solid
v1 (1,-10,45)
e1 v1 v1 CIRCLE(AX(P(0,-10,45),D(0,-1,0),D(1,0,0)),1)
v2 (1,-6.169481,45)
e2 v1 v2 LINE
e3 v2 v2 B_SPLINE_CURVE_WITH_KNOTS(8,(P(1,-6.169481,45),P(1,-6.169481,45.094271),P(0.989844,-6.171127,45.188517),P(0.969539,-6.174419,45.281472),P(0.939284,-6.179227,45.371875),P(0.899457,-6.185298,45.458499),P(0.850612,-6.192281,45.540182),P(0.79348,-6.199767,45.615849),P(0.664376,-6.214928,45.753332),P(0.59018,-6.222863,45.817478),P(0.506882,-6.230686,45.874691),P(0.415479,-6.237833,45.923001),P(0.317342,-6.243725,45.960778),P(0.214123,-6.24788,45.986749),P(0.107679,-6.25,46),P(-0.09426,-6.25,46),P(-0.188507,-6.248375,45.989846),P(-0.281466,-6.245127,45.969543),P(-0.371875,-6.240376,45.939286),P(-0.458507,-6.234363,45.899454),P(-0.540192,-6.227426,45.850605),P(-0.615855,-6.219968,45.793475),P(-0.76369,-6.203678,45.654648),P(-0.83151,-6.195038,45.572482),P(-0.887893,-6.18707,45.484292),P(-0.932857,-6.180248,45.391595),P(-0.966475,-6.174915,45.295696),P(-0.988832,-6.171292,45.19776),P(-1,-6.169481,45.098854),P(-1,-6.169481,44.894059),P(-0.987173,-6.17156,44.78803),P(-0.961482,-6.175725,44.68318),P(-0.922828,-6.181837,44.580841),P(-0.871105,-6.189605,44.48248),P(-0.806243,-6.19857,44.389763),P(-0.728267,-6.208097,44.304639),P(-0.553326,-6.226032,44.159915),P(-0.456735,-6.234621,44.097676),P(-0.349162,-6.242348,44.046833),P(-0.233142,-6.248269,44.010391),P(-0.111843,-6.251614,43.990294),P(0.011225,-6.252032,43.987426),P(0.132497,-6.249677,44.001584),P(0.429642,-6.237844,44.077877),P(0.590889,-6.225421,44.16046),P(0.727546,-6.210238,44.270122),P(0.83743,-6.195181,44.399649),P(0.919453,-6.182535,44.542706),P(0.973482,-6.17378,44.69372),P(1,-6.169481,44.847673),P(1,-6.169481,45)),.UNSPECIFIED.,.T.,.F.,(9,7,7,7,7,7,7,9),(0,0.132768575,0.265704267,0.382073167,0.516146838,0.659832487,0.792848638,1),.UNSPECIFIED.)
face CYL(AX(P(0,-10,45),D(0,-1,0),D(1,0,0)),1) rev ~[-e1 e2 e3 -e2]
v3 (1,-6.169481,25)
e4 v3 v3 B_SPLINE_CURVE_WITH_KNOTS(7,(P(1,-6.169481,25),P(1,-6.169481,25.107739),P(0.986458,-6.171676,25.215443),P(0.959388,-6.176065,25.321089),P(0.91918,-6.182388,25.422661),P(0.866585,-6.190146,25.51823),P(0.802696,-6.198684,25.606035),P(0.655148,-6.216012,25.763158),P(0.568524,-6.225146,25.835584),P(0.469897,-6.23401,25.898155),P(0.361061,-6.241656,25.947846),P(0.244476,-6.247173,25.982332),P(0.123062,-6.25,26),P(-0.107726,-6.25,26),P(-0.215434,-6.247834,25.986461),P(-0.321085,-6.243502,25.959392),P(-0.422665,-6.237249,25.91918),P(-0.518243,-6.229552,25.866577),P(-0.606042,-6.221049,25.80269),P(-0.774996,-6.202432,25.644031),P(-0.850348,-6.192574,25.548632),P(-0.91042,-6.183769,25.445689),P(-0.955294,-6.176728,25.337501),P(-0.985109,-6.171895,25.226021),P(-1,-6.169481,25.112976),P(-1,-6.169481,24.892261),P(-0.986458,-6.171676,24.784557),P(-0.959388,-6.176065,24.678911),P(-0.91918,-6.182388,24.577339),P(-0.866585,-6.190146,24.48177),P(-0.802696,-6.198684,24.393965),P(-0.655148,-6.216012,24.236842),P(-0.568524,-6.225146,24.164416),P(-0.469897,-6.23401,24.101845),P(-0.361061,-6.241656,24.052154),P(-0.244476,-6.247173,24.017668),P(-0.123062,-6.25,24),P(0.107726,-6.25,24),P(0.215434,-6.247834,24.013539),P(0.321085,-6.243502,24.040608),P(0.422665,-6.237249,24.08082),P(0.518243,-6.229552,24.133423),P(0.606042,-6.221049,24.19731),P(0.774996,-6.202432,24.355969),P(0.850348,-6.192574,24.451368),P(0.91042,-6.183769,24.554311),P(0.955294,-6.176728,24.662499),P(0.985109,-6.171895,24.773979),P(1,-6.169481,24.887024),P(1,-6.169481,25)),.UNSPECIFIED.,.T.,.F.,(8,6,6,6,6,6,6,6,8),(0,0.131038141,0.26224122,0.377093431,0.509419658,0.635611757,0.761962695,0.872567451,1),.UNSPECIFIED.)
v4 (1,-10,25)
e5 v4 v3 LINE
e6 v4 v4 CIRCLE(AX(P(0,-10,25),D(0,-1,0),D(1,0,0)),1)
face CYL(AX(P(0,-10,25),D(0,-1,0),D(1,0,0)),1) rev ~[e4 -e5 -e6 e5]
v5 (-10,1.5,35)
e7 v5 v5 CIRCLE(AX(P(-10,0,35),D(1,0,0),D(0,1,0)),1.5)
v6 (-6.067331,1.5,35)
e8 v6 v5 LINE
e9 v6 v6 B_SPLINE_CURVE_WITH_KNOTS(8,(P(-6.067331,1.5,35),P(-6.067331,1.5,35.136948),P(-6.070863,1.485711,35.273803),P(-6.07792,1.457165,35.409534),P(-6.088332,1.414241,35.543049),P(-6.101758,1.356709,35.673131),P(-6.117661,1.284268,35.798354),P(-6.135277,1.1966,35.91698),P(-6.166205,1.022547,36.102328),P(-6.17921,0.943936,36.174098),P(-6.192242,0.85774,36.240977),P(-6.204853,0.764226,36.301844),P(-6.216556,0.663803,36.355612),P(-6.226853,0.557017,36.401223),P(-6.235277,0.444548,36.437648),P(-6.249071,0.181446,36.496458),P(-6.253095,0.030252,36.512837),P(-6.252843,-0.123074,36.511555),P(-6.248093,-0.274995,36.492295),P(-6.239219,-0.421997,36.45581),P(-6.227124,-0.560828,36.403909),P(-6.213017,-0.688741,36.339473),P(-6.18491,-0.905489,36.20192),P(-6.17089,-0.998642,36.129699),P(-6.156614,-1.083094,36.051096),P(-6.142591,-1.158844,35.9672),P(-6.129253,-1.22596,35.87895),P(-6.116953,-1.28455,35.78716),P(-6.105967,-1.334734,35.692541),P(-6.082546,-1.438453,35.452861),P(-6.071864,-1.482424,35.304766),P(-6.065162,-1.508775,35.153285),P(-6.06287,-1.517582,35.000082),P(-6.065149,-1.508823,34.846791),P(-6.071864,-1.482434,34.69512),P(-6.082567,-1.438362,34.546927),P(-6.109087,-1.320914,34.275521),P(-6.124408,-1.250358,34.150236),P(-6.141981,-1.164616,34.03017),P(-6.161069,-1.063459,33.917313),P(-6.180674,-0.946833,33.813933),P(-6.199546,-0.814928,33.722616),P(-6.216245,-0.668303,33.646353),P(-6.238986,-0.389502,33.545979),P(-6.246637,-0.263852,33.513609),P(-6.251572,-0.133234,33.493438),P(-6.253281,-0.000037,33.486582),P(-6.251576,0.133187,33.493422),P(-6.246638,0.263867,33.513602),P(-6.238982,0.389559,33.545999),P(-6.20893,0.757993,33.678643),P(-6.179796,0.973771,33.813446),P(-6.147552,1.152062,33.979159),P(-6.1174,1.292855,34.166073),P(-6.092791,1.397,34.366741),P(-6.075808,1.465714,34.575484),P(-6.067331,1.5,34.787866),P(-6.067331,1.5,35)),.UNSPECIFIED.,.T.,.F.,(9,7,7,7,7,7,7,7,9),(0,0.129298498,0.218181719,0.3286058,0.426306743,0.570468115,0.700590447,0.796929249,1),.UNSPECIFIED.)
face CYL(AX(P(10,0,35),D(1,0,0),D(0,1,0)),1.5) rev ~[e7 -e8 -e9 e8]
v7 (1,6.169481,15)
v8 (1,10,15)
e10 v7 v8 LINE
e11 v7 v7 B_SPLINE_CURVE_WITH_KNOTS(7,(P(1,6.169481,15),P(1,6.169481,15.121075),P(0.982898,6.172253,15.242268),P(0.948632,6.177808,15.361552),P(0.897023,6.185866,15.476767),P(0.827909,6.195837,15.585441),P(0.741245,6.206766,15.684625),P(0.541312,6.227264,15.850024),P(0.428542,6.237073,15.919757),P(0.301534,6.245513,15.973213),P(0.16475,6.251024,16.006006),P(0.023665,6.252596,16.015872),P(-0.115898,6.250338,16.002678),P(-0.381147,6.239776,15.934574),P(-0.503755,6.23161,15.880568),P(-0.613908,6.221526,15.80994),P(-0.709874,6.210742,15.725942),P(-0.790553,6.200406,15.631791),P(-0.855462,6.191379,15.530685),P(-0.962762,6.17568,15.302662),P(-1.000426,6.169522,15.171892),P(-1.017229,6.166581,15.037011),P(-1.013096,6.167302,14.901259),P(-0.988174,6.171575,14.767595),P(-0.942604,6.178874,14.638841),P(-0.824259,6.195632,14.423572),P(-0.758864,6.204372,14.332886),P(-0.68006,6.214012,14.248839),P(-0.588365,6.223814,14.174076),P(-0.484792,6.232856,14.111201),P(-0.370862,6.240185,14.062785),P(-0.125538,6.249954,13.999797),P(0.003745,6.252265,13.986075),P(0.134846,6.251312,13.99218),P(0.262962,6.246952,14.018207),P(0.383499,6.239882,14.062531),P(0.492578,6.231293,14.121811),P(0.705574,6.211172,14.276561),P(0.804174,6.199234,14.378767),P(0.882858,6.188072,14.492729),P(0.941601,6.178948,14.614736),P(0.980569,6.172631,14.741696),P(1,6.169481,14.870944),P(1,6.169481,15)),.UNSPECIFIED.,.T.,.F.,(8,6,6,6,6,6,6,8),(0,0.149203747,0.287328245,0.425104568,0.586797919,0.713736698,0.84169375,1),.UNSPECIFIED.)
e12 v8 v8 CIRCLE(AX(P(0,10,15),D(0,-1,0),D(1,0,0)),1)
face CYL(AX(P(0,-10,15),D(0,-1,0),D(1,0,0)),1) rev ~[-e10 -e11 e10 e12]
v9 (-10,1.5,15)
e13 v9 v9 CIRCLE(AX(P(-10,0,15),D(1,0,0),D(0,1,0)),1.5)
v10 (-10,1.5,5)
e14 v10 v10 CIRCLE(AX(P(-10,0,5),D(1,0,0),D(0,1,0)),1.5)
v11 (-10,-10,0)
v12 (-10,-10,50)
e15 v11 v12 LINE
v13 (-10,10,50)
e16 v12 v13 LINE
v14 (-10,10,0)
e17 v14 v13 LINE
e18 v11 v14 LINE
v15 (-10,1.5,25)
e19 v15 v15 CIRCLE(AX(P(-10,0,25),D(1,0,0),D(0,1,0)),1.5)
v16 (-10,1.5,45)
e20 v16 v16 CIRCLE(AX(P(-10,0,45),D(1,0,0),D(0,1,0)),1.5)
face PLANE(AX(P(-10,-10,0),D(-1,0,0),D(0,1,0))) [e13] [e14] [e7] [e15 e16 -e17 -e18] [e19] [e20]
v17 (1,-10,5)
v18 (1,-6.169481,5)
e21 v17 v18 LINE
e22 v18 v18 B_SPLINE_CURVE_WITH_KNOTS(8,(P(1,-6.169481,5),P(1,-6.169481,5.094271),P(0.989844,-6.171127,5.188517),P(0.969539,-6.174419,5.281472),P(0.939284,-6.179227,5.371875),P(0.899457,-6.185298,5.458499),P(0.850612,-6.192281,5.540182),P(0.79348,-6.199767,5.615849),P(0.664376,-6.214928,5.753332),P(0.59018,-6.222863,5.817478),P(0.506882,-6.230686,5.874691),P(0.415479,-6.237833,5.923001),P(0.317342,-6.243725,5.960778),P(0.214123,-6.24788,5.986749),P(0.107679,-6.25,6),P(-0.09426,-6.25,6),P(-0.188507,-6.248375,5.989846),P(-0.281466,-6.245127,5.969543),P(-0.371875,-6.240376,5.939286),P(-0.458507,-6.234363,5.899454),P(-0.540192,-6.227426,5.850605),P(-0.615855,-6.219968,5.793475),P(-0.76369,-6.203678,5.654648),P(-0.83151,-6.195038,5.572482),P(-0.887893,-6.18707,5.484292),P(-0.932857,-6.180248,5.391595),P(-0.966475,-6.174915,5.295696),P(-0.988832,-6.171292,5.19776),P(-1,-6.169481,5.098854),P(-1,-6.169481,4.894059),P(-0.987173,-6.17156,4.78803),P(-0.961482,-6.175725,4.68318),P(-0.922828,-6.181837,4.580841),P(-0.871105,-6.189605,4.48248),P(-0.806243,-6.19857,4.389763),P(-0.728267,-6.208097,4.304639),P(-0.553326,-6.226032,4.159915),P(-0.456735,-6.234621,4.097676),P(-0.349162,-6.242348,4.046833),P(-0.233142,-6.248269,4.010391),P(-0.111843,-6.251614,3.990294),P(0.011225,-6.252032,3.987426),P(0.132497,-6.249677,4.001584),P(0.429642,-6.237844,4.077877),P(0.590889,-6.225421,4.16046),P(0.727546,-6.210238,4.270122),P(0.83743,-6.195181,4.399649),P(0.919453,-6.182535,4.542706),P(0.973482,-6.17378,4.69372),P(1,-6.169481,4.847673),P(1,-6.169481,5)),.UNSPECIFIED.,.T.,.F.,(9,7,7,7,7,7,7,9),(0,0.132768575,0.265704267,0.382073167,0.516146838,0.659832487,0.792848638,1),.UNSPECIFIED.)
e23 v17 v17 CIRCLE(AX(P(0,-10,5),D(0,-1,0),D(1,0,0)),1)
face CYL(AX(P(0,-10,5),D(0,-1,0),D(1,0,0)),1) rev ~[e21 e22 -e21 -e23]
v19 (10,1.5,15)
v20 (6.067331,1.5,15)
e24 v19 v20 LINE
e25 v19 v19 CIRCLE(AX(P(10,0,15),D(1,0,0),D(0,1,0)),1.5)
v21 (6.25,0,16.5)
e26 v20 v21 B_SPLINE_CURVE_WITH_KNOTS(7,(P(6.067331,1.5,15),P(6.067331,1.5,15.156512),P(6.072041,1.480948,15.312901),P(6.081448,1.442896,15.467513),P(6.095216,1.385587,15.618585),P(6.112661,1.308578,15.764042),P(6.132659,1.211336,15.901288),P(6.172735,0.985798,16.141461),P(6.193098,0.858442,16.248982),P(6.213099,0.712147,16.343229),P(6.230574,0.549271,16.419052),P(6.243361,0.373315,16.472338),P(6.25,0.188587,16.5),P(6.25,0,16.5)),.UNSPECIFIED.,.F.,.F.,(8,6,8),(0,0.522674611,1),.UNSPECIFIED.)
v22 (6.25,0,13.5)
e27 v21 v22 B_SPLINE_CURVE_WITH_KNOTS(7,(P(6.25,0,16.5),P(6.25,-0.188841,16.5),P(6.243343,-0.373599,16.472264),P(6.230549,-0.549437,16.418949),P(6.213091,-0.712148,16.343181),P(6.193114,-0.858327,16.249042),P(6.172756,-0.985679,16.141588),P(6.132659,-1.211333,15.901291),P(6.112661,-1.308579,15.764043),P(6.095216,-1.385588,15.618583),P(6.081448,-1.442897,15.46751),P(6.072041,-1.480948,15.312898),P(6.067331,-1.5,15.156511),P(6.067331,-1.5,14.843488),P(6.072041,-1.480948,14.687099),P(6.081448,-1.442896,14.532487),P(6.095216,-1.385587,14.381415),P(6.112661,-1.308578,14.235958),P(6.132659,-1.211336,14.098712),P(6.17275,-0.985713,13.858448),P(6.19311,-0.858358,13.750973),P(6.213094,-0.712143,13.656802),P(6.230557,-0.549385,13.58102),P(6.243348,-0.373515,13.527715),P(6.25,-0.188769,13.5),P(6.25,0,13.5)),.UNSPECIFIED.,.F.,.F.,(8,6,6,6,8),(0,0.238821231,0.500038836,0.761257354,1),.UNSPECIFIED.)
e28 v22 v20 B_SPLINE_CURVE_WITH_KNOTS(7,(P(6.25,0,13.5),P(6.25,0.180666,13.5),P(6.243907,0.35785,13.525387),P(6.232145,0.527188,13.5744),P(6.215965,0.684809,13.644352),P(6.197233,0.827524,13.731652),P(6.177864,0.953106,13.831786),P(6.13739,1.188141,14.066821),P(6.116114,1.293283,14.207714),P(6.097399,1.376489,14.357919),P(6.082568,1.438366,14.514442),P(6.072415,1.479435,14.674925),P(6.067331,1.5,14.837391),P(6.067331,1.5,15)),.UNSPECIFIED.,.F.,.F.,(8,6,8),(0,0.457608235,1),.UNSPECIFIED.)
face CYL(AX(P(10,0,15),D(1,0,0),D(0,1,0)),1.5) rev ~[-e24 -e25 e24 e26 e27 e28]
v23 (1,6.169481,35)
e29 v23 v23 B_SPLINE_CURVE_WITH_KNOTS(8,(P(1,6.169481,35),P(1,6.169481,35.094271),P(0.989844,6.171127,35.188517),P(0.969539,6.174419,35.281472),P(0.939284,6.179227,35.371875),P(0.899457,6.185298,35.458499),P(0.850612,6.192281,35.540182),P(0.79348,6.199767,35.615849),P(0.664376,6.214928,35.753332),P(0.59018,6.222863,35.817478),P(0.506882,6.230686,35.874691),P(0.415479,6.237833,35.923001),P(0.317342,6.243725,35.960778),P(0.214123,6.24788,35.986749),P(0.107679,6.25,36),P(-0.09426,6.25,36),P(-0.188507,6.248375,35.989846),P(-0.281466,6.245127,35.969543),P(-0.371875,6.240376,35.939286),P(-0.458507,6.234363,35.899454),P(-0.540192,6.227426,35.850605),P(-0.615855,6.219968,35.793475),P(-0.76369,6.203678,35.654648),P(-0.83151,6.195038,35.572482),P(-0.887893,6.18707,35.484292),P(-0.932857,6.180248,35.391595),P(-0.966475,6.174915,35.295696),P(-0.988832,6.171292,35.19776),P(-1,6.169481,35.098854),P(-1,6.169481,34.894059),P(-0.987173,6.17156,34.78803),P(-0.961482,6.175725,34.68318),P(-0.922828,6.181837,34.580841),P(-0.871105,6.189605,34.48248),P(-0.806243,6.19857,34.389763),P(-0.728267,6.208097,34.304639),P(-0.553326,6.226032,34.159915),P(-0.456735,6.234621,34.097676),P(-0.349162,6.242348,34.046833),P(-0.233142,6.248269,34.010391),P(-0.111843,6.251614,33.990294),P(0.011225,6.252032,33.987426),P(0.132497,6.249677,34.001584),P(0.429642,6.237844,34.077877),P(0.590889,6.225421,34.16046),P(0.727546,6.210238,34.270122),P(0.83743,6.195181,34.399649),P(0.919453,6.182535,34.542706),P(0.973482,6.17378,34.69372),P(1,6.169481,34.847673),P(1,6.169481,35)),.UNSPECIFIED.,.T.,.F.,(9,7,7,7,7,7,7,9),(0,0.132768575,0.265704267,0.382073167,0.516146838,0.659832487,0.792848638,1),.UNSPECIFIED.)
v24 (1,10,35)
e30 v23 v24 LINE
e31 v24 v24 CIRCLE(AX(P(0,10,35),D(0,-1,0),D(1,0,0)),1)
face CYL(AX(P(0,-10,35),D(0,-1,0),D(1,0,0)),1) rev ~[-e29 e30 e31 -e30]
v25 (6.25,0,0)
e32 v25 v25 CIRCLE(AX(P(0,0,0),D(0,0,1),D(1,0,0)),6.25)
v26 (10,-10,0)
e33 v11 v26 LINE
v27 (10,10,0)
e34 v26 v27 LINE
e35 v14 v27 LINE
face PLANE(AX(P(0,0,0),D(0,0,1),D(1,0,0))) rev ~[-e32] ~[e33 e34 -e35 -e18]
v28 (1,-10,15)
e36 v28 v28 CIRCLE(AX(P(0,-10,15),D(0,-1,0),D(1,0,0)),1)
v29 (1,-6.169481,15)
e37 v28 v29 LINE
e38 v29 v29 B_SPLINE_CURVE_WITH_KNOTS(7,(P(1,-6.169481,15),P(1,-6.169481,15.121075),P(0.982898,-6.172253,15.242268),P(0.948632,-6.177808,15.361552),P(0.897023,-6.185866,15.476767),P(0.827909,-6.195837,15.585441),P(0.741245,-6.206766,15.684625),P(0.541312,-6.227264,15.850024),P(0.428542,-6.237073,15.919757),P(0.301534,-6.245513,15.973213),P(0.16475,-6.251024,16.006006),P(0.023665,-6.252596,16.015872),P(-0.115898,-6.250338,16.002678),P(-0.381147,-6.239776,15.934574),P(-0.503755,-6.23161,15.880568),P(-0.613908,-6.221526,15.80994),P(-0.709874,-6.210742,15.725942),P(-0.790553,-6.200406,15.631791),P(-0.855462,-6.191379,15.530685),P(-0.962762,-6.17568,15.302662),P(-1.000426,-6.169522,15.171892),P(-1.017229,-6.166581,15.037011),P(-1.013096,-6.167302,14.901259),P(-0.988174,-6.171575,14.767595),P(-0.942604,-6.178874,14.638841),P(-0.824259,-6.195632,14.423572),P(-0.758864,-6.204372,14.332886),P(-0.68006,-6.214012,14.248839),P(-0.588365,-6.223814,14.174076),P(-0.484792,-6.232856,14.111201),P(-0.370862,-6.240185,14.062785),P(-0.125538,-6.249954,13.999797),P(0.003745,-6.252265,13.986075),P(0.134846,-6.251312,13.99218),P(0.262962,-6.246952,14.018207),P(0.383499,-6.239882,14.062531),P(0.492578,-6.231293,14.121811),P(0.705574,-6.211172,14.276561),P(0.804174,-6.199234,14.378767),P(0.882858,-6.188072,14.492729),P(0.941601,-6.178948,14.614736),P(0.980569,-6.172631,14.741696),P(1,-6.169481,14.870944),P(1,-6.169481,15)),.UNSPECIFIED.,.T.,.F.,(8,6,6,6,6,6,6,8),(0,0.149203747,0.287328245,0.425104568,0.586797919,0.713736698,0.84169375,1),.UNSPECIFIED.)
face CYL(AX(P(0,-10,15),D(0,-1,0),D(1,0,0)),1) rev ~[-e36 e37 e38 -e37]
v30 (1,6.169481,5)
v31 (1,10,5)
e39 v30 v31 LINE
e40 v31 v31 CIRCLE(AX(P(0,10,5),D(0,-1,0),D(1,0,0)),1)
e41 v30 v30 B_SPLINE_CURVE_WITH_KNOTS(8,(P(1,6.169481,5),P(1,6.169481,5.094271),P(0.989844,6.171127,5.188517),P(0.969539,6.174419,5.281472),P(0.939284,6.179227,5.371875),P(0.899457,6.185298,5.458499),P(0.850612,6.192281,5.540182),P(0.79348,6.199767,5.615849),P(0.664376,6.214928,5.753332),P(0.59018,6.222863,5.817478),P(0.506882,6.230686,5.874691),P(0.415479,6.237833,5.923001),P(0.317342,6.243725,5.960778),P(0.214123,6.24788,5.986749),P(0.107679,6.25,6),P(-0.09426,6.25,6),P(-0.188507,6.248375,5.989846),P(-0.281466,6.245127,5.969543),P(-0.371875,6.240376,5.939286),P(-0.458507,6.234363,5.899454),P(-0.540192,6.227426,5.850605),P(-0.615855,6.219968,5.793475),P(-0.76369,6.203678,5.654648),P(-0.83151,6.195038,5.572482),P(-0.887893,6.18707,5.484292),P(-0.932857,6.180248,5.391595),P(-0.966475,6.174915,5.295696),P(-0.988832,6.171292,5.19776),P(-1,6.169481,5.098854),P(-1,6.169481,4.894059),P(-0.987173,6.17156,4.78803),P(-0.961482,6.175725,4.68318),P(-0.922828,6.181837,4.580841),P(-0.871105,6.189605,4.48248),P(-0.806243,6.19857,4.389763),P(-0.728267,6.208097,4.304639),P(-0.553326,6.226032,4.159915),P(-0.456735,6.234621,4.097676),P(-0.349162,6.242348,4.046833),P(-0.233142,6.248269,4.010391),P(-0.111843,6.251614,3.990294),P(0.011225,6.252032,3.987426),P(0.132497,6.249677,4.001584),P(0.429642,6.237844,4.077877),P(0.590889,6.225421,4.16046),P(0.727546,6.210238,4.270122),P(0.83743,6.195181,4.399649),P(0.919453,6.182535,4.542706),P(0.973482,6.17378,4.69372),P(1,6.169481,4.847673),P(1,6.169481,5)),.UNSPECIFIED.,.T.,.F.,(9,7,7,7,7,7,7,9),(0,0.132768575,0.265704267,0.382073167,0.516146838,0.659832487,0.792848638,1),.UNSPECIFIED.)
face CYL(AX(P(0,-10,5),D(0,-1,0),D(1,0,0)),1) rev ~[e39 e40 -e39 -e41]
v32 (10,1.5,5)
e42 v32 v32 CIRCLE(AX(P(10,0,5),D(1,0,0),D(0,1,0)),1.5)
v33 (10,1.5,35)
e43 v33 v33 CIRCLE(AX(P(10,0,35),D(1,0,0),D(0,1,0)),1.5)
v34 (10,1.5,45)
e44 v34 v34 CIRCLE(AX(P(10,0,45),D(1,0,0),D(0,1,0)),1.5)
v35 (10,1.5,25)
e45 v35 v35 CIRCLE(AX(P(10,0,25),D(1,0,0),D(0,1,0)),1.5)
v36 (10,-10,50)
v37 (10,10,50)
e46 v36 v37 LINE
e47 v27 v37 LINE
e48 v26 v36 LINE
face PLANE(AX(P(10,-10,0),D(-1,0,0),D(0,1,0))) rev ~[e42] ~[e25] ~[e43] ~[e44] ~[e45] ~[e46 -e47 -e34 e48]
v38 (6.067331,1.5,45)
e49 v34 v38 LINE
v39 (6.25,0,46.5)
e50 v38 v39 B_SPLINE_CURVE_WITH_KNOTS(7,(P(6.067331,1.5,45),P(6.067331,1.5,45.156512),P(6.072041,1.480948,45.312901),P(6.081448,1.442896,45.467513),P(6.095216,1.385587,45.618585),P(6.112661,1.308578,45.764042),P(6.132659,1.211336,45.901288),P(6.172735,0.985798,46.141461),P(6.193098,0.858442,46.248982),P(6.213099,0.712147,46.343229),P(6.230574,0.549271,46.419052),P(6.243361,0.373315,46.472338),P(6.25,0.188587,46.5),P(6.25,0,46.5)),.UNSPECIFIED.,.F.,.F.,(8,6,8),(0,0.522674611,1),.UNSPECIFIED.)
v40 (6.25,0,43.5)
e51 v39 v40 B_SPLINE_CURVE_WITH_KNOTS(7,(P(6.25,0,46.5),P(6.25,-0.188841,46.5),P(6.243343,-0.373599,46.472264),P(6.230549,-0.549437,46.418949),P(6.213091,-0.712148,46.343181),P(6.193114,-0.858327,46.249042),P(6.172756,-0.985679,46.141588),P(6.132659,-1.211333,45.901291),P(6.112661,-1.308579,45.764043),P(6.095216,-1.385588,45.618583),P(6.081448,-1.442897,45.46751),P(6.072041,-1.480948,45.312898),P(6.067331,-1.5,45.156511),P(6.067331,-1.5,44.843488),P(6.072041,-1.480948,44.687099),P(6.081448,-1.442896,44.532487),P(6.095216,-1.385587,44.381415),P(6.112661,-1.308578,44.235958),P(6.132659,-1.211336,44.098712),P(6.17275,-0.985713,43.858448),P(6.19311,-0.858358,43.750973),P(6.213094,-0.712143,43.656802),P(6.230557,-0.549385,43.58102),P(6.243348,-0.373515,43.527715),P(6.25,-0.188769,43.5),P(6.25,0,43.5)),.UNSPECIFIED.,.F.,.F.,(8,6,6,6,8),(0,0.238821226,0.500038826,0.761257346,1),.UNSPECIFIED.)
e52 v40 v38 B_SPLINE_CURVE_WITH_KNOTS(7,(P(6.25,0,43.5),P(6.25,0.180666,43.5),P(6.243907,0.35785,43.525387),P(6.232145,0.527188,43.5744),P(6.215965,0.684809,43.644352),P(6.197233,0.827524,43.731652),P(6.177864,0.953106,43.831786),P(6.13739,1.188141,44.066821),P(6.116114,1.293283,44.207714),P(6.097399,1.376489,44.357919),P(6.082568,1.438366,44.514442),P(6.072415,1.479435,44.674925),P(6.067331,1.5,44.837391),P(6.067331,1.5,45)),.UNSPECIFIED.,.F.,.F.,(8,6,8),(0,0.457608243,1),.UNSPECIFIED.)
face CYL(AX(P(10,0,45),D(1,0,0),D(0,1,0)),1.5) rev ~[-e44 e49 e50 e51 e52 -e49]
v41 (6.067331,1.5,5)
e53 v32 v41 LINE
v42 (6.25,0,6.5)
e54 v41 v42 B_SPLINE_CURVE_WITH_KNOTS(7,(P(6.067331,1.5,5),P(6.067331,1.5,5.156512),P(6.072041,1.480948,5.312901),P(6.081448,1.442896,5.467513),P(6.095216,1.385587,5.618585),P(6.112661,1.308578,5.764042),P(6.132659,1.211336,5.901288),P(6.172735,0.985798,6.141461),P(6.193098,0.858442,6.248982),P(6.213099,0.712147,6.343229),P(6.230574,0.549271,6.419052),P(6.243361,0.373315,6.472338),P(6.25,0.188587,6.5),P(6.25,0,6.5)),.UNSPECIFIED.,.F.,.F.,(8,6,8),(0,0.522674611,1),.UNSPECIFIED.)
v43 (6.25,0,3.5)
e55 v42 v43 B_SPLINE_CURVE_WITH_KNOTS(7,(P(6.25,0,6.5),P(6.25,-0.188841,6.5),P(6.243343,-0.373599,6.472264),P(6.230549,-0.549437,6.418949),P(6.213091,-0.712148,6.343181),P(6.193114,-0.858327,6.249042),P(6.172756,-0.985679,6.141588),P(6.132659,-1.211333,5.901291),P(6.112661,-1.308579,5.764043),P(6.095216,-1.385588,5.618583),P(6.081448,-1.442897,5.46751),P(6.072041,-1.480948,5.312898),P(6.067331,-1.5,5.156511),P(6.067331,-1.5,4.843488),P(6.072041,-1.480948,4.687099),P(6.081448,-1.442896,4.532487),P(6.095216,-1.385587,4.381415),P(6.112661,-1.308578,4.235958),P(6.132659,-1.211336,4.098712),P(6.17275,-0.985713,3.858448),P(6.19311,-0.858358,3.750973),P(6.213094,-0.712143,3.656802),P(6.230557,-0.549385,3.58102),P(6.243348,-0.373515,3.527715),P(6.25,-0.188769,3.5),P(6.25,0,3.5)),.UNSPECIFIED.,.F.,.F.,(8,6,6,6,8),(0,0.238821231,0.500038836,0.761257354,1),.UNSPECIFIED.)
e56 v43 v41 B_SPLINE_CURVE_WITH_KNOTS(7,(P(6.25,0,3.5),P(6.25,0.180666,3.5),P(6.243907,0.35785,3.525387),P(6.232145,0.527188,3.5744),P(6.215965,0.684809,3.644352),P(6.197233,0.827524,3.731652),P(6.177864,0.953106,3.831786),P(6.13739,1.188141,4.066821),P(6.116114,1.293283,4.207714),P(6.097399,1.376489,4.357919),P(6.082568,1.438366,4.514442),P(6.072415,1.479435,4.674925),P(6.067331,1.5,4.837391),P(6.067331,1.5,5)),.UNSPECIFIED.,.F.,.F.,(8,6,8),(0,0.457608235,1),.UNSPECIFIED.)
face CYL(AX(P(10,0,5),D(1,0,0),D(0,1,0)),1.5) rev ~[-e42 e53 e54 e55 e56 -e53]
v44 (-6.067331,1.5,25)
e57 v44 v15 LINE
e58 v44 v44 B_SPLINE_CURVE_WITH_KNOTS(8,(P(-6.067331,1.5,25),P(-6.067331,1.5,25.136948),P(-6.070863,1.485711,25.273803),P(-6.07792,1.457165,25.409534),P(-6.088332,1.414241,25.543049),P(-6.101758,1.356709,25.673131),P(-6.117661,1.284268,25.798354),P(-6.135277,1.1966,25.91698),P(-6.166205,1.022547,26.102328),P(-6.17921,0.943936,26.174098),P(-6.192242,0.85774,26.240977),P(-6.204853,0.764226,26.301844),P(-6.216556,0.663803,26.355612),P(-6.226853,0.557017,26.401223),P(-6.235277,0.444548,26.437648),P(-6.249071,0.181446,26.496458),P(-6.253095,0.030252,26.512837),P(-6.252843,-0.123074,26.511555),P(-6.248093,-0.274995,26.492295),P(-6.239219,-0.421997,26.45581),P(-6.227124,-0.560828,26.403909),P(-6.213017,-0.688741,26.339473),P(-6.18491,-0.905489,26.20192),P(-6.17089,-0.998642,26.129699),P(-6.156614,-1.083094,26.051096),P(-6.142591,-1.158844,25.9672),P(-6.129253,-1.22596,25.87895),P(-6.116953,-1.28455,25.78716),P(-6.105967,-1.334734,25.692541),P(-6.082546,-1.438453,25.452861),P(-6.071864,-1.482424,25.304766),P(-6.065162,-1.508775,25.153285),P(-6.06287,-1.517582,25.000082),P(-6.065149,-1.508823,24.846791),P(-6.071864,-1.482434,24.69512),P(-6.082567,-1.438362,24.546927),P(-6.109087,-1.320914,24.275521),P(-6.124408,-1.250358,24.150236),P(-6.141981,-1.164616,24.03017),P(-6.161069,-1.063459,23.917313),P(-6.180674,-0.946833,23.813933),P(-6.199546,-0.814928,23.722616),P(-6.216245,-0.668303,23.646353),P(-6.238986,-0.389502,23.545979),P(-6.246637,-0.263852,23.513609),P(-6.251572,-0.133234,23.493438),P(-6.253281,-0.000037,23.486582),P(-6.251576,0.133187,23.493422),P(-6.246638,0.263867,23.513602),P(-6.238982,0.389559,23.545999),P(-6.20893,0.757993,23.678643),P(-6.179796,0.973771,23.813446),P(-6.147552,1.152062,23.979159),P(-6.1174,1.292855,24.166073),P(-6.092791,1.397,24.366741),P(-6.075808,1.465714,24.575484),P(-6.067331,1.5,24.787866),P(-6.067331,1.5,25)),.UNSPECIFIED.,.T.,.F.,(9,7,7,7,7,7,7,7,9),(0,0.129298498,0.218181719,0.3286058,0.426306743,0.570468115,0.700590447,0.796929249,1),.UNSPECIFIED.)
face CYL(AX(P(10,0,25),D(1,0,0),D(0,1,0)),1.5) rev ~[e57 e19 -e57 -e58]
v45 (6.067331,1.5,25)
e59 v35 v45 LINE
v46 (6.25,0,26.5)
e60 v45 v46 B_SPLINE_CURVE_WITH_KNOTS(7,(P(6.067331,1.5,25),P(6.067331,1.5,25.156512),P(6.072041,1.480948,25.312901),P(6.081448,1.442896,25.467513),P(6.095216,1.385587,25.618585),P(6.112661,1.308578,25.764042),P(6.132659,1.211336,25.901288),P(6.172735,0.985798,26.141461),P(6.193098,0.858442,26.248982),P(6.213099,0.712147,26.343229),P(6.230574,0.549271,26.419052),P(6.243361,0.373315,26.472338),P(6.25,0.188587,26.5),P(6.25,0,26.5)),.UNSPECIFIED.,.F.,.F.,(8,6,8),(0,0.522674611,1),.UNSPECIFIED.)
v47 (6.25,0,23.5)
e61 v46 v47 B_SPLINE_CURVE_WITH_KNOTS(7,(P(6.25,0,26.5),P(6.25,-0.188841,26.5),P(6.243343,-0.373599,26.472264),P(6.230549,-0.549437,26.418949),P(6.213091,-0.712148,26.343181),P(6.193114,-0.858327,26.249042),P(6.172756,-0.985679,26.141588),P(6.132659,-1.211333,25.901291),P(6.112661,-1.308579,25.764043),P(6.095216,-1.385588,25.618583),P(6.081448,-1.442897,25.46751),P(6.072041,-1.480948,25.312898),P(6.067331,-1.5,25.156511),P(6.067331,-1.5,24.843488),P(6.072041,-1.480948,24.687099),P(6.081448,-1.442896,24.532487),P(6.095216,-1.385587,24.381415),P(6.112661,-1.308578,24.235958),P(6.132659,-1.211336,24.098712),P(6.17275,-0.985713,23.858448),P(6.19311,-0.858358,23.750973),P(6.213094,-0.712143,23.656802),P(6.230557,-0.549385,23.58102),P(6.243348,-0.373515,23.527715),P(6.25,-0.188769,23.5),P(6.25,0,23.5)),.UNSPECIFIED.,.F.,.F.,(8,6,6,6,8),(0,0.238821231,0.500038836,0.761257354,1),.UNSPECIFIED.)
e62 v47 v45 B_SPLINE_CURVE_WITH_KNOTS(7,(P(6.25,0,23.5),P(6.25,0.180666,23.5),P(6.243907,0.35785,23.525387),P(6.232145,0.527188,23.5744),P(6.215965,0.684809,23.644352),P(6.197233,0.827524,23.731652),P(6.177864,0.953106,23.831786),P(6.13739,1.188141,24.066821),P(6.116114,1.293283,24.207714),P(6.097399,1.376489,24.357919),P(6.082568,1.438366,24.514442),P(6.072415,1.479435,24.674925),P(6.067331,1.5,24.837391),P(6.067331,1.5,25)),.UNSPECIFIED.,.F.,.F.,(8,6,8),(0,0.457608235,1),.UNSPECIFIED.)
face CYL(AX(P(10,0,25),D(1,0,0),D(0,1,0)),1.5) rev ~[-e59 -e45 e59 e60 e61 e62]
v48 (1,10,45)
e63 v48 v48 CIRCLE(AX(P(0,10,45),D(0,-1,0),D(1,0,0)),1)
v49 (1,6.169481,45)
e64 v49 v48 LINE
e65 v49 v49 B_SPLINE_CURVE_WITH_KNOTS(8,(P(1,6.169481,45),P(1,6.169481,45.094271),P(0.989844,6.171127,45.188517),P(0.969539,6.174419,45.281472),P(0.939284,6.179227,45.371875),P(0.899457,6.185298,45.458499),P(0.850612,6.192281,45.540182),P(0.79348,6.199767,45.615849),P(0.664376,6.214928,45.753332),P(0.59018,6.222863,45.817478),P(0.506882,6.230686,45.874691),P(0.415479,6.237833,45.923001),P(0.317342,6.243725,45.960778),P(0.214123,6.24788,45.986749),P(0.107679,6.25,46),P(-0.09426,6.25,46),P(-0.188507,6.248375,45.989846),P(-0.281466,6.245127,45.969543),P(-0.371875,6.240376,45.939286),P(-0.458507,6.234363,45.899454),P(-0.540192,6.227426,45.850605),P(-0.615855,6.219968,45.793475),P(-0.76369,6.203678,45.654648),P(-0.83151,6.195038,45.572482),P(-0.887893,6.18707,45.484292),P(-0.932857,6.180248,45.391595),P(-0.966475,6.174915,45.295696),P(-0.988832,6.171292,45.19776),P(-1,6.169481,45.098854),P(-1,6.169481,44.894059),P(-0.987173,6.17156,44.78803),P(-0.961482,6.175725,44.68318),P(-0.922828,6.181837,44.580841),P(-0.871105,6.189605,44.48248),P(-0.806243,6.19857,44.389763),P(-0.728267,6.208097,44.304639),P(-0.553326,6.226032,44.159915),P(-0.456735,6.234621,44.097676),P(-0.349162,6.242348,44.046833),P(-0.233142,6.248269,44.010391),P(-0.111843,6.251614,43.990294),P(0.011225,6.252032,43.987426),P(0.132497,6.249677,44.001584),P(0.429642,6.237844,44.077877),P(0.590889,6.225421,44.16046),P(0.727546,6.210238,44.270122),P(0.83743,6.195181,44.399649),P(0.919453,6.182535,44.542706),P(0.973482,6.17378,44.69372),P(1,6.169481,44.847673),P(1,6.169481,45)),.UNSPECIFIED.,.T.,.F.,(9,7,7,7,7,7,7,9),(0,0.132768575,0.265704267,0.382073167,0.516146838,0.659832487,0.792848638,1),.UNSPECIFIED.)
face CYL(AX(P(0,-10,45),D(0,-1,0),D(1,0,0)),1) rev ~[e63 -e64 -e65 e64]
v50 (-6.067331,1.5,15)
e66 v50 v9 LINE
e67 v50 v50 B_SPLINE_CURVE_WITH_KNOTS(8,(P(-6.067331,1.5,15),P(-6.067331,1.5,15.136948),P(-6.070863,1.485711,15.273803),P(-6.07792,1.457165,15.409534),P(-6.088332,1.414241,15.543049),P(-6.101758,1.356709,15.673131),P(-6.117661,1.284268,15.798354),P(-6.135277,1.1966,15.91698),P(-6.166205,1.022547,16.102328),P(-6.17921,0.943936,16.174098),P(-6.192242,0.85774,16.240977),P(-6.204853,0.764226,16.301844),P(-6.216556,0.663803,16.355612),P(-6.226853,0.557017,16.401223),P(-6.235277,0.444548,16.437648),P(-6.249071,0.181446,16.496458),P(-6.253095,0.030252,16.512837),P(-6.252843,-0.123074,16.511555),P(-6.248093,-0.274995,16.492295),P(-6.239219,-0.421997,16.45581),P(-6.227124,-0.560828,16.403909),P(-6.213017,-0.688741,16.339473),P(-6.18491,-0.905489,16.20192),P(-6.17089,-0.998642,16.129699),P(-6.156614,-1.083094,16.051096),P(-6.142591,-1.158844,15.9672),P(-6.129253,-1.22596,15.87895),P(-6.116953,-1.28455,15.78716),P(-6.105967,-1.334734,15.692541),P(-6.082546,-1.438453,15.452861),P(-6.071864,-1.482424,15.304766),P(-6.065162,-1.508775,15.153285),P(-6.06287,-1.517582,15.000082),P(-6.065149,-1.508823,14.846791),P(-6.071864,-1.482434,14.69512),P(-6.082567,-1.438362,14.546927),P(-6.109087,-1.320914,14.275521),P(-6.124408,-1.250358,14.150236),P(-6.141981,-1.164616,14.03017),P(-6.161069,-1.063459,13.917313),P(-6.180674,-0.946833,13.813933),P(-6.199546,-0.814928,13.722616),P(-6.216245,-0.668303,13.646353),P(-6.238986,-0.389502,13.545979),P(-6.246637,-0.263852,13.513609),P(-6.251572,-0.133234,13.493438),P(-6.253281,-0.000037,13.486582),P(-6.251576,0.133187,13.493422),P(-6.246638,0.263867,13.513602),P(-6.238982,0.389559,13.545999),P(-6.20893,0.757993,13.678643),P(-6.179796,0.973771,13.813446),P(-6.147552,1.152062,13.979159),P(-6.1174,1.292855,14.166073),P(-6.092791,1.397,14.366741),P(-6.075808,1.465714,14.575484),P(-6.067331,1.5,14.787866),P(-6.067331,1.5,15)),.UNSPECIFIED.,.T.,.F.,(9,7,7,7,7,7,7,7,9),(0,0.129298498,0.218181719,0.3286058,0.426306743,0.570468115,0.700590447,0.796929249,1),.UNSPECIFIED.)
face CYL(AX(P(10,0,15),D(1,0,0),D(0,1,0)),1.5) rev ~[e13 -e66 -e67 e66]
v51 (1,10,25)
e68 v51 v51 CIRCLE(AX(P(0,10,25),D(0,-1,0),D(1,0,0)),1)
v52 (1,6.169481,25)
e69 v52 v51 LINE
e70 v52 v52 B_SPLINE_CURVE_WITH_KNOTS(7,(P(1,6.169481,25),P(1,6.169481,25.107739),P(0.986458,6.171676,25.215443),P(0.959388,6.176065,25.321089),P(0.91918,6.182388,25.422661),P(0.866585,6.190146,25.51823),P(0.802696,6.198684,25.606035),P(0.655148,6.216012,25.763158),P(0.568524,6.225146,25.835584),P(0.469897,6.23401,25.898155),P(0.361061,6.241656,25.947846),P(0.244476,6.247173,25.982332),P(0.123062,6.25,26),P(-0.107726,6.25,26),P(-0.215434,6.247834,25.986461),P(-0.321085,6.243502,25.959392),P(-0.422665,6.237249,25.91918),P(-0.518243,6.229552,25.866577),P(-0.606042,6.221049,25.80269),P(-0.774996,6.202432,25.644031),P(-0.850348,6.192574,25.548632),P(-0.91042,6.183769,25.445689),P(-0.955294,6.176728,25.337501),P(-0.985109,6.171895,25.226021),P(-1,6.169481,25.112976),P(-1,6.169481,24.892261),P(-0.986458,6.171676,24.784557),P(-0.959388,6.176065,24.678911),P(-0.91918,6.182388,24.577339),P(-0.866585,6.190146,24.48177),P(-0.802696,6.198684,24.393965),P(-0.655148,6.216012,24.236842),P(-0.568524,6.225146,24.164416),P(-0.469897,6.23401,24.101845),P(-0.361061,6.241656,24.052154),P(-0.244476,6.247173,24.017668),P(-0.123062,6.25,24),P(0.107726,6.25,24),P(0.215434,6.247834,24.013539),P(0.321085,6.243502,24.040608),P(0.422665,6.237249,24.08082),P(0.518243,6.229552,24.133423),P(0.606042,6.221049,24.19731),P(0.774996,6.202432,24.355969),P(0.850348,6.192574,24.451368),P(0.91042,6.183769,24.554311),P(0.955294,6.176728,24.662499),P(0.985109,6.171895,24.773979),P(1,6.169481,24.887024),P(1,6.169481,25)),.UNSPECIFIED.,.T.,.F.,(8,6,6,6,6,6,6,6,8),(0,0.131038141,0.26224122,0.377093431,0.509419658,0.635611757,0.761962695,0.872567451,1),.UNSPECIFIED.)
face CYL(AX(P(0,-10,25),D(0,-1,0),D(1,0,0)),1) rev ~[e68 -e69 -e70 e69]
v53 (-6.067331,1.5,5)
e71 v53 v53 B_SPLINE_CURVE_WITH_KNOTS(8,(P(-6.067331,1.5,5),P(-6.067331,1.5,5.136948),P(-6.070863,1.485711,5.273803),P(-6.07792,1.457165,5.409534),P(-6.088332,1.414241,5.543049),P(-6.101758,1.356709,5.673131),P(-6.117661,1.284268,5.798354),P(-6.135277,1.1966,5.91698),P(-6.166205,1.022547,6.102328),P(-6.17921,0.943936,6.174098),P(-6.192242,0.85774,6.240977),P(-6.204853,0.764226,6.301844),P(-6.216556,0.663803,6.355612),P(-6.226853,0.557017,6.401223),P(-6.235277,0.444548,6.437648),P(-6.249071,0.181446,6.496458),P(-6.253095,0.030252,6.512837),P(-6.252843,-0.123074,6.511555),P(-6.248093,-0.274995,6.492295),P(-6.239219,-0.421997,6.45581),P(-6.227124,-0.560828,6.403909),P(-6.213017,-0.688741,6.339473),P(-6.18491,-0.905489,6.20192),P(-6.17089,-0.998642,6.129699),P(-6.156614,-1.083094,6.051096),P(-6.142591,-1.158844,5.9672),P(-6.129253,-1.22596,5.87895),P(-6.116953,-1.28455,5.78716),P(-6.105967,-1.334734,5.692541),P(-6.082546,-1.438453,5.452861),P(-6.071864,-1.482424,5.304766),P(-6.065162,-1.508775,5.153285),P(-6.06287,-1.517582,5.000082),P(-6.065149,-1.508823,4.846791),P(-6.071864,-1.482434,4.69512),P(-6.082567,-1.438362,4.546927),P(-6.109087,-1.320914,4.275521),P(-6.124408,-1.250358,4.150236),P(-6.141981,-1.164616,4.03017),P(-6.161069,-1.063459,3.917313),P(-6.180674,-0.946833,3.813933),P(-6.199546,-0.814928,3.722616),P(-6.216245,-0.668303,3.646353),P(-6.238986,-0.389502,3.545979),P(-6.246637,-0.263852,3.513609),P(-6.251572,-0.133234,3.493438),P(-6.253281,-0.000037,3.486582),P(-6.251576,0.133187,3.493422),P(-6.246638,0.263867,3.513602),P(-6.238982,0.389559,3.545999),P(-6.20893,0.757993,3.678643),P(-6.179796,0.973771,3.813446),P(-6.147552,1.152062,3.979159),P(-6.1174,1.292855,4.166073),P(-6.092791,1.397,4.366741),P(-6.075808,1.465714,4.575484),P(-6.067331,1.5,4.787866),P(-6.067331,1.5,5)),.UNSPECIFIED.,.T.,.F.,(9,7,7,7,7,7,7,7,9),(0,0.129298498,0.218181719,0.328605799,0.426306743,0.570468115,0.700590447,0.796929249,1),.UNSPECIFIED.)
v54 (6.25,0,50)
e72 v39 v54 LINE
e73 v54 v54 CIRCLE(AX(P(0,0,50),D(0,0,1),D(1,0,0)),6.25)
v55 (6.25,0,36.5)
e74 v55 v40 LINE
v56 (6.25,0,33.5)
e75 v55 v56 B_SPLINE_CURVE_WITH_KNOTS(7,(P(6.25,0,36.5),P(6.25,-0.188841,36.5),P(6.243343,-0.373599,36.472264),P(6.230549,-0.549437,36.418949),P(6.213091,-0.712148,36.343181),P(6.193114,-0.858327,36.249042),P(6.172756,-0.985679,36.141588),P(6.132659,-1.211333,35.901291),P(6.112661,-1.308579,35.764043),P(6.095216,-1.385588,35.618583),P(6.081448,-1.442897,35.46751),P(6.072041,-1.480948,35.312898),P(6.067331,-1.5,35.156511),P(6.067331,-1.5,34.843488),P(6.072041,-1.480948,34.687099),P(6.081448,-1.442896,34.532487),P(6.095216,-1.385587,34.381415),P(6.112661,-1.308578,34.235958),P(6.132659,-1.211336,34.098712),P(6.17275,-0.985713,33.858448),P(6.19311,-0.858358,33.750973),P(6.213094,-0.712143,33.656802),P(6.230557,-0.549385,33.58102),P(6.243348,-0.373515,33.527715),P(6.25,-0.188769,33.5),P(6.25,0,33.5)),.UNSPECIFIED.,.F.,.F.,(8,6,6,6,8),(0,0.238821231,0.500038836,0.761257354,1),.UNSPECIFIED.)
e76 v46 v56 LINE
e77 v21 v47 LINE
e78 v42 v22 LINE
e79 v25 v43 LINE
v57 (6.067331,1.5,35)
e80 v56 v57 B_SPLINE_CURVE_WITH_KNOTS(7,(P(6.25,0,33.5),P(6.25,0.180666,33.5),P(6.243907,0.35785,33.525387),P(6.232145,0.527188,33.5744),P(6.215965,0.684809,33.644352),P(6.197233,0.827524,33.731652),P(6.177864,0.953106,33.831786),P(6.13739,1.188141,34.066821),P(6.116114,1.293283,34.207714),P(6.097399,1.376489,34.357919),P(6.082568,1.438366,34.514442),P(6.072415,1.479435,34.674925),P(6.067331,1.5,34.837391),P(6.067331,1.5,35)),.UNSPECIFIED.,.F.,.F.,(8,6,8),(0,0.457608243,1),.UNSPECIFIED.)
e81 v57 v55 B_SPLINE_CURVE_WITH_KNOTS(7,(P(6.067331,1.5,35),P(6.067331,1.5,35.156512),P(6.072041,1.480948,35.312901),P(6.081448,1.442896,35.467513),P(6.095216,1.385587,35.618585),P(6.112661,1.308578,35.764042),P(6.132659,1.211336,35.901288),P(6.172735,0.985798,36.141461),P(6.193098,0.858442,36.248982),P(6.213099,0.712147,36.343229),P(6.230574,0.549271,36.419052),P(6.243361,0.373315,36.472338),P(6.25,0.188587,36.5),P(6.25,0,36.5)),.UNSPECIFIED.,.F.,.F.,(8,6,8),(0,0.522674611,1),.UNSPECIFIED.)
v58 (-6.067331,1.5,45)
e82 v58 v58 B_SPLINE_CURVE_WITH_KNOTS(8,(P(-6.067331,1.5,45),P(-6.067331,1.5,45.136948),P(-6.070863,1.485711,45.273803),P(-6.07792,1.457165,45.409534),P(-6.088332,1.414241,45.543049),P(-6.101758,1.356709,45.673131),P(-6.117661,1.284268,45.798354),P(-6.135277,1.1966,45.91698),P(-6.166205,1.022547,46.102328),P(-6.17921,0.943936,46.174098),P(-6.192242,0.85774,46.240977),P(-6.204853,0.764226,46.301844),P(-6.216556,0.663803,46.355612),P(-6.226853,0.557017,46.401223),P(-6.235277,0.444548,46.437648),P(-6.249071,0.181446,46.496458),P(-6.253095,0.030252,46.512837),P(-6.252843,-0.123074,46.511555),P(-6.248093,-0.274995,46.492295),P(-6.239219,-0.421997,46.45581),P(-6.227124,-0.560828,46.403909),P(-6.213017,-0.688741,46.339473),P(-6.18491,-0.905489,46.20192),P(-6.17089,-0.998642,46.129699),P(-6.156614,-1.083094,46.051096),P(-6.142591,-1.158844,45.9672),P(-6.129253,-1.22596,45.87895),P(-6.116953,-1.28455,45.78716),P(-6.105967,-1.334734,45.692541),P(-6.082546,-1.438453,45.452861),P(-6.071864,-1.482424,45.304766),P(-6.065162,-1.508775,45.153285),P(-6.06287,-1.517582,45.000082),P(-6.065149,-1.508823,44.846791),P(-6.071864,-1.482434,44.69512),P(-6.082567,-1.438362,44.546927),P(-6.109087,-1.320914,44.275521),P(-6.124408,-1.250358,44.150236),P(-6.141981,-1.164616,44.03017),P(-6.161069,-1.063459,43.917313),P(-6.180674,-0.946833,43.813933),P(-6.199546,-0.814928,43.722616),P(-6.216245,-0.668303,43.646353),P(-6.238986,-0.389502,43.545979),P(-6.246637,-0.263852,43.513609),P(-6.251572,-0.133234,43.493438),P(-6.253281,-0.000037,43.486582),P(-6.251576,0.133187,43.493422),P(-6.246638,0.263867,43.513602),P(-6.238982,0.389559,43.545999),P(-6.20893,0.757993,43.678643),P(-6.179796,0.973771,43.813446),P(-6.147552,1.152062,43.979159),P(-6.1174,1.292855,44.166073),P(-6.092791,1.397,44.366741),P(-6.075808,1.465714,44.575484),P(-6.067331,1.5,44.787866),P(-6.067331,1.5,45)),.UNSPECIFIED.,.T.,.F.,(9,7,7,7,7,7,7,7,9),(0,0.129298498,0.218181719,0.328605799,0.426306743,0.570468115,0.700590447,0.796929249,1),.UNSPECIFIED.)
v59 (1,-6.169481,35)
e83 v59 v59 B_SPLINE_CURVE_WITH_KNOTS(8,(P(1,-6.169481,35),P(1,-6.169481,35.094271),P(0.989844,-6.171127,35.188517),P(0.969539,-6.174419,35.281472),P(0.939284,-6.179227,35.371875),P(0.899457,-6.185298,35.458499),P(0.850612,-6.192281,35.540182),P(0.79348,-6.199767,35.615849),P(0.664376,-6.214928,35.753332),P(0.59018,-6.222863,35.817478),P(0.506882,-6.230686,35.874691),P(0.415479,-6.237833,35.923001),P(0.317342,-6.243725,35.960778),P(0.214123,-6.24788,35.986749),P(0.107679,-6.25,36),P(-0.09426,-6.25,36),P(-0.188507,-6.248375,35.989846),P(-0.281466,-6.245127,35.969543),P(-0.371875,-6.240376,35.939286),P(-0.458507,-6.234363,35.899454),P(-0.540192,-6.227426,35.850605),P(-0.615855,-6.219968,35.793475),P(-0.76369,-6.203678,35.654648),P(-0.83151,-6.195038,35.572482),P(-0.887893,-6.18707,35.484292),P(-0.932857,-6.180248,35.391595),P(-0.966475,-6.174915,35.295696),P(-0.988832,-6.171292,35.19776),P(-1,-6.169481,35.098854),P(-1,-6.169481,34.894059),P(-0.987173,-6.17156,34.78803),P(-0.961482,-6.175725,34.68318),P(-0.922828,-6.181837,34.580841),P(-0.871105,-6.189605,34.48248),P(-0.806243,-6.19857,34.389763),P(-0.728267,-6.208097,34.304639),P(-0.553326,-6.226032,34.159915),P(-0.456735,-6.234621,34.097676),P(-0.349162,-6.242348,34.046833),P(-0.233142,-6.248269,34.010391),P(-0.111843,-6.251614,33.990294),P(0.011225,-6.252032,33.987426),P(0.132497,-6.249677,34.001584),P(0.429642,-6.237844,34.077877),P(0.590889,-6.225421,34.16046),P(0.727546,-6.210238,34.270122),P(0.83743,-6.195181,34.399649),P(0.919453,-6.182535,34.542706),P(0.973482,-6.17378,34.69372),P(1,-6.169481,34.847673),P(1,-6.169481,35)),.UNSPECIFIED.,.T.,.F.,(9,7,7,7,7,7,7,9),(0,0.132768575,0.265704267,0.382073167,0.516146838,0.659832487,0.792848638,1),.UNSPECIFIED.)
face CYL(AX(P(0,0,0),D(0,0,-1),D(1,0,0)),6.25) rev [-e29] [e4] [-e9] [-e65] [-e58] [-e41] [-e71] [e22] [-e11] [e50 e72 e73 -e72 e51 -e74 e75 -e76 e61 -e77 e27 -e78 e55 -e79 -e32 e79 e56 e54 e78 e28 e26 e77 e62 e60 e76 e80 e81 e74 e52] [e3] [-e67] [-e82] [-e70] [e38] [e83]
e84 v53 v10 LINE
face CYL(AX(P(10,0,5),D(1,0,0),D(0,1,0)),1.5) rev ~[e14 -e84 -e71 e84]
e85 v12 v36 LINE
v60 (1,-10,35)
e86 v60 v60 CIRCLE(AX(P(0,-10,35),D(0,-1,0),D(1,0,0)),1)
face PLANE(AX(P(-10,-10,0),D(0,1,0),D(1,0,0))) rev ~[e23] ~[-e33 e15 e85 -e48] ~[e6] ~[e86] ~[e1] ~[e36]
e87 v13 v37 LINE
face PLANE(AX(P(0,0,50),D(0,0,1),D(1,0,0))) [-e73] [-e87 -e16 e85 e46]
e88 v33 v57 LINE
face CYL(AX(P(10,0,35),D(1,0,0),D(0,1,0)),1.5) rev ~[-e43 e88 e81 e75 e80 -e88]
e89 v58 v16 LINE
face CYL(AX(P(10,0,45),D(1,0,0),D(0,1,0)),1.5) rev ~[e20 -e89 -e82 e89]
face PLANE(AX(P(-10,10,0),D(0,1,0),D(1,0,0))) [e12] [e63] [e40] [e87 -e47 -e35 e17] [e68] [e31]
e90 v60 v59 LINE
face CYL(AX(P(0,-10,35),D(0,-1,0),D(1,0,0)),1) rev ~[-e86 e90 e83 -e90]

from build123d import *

# Parameters (mm, degrees)
F0_W     = 20
F0_H     = 20
F0_R     = 6.25
F1_DEPTH = 50
F2_R     = 1.5
F3_DEPTH = 20
F4_R     = 1
F5_DEPTH = 20


with BuildPart() as f1:
    # F0 (on Top) → F1 (new body)
    with BuildSketch(Plane.XY):
        Rectangle(F0_W, F0_H)
        Circle(F0_R, mode=Mode.SUBTRACT)
    extrude(amount=F1_DEPTH)

    # F2 (on face) → F3 (cut, through all)
    with BuildSketch(Plane.YZ.offset(10)):
        with Locations((0, 45)):
            Circle(F2_R)
        with Locations((0, 35)):
            Circle(F2_R)
        with Locations((0, 25)):
            Circle(F2_R)
        with Locations((0, 15)):
            Circle(F2_R)
        with Locations((0, 5)):
            Circle(F2_R)
    extrude(amount=-F3_DEPTH, mode=Mode.SUBTRACT)

    # F4 (on face) → F5 (cut, through all)
    with BuildSketch(Plane.XZ.offset(10)):
        with Locations((0, 45)):
            Circle(F4_R)
        with Locations((0, 35)):
            Circle(F4_R)
        with Locations((0, 25)):
            Circle(F4_R)
        with Locations((0, 15)):
            Circle(F4_R)
        with Locations((0, 5)):
            Circle(F4_R)
    extrude(amount=-F5_DEPTH, mode=Mode.SUBTRACT)


solid = f1.part
